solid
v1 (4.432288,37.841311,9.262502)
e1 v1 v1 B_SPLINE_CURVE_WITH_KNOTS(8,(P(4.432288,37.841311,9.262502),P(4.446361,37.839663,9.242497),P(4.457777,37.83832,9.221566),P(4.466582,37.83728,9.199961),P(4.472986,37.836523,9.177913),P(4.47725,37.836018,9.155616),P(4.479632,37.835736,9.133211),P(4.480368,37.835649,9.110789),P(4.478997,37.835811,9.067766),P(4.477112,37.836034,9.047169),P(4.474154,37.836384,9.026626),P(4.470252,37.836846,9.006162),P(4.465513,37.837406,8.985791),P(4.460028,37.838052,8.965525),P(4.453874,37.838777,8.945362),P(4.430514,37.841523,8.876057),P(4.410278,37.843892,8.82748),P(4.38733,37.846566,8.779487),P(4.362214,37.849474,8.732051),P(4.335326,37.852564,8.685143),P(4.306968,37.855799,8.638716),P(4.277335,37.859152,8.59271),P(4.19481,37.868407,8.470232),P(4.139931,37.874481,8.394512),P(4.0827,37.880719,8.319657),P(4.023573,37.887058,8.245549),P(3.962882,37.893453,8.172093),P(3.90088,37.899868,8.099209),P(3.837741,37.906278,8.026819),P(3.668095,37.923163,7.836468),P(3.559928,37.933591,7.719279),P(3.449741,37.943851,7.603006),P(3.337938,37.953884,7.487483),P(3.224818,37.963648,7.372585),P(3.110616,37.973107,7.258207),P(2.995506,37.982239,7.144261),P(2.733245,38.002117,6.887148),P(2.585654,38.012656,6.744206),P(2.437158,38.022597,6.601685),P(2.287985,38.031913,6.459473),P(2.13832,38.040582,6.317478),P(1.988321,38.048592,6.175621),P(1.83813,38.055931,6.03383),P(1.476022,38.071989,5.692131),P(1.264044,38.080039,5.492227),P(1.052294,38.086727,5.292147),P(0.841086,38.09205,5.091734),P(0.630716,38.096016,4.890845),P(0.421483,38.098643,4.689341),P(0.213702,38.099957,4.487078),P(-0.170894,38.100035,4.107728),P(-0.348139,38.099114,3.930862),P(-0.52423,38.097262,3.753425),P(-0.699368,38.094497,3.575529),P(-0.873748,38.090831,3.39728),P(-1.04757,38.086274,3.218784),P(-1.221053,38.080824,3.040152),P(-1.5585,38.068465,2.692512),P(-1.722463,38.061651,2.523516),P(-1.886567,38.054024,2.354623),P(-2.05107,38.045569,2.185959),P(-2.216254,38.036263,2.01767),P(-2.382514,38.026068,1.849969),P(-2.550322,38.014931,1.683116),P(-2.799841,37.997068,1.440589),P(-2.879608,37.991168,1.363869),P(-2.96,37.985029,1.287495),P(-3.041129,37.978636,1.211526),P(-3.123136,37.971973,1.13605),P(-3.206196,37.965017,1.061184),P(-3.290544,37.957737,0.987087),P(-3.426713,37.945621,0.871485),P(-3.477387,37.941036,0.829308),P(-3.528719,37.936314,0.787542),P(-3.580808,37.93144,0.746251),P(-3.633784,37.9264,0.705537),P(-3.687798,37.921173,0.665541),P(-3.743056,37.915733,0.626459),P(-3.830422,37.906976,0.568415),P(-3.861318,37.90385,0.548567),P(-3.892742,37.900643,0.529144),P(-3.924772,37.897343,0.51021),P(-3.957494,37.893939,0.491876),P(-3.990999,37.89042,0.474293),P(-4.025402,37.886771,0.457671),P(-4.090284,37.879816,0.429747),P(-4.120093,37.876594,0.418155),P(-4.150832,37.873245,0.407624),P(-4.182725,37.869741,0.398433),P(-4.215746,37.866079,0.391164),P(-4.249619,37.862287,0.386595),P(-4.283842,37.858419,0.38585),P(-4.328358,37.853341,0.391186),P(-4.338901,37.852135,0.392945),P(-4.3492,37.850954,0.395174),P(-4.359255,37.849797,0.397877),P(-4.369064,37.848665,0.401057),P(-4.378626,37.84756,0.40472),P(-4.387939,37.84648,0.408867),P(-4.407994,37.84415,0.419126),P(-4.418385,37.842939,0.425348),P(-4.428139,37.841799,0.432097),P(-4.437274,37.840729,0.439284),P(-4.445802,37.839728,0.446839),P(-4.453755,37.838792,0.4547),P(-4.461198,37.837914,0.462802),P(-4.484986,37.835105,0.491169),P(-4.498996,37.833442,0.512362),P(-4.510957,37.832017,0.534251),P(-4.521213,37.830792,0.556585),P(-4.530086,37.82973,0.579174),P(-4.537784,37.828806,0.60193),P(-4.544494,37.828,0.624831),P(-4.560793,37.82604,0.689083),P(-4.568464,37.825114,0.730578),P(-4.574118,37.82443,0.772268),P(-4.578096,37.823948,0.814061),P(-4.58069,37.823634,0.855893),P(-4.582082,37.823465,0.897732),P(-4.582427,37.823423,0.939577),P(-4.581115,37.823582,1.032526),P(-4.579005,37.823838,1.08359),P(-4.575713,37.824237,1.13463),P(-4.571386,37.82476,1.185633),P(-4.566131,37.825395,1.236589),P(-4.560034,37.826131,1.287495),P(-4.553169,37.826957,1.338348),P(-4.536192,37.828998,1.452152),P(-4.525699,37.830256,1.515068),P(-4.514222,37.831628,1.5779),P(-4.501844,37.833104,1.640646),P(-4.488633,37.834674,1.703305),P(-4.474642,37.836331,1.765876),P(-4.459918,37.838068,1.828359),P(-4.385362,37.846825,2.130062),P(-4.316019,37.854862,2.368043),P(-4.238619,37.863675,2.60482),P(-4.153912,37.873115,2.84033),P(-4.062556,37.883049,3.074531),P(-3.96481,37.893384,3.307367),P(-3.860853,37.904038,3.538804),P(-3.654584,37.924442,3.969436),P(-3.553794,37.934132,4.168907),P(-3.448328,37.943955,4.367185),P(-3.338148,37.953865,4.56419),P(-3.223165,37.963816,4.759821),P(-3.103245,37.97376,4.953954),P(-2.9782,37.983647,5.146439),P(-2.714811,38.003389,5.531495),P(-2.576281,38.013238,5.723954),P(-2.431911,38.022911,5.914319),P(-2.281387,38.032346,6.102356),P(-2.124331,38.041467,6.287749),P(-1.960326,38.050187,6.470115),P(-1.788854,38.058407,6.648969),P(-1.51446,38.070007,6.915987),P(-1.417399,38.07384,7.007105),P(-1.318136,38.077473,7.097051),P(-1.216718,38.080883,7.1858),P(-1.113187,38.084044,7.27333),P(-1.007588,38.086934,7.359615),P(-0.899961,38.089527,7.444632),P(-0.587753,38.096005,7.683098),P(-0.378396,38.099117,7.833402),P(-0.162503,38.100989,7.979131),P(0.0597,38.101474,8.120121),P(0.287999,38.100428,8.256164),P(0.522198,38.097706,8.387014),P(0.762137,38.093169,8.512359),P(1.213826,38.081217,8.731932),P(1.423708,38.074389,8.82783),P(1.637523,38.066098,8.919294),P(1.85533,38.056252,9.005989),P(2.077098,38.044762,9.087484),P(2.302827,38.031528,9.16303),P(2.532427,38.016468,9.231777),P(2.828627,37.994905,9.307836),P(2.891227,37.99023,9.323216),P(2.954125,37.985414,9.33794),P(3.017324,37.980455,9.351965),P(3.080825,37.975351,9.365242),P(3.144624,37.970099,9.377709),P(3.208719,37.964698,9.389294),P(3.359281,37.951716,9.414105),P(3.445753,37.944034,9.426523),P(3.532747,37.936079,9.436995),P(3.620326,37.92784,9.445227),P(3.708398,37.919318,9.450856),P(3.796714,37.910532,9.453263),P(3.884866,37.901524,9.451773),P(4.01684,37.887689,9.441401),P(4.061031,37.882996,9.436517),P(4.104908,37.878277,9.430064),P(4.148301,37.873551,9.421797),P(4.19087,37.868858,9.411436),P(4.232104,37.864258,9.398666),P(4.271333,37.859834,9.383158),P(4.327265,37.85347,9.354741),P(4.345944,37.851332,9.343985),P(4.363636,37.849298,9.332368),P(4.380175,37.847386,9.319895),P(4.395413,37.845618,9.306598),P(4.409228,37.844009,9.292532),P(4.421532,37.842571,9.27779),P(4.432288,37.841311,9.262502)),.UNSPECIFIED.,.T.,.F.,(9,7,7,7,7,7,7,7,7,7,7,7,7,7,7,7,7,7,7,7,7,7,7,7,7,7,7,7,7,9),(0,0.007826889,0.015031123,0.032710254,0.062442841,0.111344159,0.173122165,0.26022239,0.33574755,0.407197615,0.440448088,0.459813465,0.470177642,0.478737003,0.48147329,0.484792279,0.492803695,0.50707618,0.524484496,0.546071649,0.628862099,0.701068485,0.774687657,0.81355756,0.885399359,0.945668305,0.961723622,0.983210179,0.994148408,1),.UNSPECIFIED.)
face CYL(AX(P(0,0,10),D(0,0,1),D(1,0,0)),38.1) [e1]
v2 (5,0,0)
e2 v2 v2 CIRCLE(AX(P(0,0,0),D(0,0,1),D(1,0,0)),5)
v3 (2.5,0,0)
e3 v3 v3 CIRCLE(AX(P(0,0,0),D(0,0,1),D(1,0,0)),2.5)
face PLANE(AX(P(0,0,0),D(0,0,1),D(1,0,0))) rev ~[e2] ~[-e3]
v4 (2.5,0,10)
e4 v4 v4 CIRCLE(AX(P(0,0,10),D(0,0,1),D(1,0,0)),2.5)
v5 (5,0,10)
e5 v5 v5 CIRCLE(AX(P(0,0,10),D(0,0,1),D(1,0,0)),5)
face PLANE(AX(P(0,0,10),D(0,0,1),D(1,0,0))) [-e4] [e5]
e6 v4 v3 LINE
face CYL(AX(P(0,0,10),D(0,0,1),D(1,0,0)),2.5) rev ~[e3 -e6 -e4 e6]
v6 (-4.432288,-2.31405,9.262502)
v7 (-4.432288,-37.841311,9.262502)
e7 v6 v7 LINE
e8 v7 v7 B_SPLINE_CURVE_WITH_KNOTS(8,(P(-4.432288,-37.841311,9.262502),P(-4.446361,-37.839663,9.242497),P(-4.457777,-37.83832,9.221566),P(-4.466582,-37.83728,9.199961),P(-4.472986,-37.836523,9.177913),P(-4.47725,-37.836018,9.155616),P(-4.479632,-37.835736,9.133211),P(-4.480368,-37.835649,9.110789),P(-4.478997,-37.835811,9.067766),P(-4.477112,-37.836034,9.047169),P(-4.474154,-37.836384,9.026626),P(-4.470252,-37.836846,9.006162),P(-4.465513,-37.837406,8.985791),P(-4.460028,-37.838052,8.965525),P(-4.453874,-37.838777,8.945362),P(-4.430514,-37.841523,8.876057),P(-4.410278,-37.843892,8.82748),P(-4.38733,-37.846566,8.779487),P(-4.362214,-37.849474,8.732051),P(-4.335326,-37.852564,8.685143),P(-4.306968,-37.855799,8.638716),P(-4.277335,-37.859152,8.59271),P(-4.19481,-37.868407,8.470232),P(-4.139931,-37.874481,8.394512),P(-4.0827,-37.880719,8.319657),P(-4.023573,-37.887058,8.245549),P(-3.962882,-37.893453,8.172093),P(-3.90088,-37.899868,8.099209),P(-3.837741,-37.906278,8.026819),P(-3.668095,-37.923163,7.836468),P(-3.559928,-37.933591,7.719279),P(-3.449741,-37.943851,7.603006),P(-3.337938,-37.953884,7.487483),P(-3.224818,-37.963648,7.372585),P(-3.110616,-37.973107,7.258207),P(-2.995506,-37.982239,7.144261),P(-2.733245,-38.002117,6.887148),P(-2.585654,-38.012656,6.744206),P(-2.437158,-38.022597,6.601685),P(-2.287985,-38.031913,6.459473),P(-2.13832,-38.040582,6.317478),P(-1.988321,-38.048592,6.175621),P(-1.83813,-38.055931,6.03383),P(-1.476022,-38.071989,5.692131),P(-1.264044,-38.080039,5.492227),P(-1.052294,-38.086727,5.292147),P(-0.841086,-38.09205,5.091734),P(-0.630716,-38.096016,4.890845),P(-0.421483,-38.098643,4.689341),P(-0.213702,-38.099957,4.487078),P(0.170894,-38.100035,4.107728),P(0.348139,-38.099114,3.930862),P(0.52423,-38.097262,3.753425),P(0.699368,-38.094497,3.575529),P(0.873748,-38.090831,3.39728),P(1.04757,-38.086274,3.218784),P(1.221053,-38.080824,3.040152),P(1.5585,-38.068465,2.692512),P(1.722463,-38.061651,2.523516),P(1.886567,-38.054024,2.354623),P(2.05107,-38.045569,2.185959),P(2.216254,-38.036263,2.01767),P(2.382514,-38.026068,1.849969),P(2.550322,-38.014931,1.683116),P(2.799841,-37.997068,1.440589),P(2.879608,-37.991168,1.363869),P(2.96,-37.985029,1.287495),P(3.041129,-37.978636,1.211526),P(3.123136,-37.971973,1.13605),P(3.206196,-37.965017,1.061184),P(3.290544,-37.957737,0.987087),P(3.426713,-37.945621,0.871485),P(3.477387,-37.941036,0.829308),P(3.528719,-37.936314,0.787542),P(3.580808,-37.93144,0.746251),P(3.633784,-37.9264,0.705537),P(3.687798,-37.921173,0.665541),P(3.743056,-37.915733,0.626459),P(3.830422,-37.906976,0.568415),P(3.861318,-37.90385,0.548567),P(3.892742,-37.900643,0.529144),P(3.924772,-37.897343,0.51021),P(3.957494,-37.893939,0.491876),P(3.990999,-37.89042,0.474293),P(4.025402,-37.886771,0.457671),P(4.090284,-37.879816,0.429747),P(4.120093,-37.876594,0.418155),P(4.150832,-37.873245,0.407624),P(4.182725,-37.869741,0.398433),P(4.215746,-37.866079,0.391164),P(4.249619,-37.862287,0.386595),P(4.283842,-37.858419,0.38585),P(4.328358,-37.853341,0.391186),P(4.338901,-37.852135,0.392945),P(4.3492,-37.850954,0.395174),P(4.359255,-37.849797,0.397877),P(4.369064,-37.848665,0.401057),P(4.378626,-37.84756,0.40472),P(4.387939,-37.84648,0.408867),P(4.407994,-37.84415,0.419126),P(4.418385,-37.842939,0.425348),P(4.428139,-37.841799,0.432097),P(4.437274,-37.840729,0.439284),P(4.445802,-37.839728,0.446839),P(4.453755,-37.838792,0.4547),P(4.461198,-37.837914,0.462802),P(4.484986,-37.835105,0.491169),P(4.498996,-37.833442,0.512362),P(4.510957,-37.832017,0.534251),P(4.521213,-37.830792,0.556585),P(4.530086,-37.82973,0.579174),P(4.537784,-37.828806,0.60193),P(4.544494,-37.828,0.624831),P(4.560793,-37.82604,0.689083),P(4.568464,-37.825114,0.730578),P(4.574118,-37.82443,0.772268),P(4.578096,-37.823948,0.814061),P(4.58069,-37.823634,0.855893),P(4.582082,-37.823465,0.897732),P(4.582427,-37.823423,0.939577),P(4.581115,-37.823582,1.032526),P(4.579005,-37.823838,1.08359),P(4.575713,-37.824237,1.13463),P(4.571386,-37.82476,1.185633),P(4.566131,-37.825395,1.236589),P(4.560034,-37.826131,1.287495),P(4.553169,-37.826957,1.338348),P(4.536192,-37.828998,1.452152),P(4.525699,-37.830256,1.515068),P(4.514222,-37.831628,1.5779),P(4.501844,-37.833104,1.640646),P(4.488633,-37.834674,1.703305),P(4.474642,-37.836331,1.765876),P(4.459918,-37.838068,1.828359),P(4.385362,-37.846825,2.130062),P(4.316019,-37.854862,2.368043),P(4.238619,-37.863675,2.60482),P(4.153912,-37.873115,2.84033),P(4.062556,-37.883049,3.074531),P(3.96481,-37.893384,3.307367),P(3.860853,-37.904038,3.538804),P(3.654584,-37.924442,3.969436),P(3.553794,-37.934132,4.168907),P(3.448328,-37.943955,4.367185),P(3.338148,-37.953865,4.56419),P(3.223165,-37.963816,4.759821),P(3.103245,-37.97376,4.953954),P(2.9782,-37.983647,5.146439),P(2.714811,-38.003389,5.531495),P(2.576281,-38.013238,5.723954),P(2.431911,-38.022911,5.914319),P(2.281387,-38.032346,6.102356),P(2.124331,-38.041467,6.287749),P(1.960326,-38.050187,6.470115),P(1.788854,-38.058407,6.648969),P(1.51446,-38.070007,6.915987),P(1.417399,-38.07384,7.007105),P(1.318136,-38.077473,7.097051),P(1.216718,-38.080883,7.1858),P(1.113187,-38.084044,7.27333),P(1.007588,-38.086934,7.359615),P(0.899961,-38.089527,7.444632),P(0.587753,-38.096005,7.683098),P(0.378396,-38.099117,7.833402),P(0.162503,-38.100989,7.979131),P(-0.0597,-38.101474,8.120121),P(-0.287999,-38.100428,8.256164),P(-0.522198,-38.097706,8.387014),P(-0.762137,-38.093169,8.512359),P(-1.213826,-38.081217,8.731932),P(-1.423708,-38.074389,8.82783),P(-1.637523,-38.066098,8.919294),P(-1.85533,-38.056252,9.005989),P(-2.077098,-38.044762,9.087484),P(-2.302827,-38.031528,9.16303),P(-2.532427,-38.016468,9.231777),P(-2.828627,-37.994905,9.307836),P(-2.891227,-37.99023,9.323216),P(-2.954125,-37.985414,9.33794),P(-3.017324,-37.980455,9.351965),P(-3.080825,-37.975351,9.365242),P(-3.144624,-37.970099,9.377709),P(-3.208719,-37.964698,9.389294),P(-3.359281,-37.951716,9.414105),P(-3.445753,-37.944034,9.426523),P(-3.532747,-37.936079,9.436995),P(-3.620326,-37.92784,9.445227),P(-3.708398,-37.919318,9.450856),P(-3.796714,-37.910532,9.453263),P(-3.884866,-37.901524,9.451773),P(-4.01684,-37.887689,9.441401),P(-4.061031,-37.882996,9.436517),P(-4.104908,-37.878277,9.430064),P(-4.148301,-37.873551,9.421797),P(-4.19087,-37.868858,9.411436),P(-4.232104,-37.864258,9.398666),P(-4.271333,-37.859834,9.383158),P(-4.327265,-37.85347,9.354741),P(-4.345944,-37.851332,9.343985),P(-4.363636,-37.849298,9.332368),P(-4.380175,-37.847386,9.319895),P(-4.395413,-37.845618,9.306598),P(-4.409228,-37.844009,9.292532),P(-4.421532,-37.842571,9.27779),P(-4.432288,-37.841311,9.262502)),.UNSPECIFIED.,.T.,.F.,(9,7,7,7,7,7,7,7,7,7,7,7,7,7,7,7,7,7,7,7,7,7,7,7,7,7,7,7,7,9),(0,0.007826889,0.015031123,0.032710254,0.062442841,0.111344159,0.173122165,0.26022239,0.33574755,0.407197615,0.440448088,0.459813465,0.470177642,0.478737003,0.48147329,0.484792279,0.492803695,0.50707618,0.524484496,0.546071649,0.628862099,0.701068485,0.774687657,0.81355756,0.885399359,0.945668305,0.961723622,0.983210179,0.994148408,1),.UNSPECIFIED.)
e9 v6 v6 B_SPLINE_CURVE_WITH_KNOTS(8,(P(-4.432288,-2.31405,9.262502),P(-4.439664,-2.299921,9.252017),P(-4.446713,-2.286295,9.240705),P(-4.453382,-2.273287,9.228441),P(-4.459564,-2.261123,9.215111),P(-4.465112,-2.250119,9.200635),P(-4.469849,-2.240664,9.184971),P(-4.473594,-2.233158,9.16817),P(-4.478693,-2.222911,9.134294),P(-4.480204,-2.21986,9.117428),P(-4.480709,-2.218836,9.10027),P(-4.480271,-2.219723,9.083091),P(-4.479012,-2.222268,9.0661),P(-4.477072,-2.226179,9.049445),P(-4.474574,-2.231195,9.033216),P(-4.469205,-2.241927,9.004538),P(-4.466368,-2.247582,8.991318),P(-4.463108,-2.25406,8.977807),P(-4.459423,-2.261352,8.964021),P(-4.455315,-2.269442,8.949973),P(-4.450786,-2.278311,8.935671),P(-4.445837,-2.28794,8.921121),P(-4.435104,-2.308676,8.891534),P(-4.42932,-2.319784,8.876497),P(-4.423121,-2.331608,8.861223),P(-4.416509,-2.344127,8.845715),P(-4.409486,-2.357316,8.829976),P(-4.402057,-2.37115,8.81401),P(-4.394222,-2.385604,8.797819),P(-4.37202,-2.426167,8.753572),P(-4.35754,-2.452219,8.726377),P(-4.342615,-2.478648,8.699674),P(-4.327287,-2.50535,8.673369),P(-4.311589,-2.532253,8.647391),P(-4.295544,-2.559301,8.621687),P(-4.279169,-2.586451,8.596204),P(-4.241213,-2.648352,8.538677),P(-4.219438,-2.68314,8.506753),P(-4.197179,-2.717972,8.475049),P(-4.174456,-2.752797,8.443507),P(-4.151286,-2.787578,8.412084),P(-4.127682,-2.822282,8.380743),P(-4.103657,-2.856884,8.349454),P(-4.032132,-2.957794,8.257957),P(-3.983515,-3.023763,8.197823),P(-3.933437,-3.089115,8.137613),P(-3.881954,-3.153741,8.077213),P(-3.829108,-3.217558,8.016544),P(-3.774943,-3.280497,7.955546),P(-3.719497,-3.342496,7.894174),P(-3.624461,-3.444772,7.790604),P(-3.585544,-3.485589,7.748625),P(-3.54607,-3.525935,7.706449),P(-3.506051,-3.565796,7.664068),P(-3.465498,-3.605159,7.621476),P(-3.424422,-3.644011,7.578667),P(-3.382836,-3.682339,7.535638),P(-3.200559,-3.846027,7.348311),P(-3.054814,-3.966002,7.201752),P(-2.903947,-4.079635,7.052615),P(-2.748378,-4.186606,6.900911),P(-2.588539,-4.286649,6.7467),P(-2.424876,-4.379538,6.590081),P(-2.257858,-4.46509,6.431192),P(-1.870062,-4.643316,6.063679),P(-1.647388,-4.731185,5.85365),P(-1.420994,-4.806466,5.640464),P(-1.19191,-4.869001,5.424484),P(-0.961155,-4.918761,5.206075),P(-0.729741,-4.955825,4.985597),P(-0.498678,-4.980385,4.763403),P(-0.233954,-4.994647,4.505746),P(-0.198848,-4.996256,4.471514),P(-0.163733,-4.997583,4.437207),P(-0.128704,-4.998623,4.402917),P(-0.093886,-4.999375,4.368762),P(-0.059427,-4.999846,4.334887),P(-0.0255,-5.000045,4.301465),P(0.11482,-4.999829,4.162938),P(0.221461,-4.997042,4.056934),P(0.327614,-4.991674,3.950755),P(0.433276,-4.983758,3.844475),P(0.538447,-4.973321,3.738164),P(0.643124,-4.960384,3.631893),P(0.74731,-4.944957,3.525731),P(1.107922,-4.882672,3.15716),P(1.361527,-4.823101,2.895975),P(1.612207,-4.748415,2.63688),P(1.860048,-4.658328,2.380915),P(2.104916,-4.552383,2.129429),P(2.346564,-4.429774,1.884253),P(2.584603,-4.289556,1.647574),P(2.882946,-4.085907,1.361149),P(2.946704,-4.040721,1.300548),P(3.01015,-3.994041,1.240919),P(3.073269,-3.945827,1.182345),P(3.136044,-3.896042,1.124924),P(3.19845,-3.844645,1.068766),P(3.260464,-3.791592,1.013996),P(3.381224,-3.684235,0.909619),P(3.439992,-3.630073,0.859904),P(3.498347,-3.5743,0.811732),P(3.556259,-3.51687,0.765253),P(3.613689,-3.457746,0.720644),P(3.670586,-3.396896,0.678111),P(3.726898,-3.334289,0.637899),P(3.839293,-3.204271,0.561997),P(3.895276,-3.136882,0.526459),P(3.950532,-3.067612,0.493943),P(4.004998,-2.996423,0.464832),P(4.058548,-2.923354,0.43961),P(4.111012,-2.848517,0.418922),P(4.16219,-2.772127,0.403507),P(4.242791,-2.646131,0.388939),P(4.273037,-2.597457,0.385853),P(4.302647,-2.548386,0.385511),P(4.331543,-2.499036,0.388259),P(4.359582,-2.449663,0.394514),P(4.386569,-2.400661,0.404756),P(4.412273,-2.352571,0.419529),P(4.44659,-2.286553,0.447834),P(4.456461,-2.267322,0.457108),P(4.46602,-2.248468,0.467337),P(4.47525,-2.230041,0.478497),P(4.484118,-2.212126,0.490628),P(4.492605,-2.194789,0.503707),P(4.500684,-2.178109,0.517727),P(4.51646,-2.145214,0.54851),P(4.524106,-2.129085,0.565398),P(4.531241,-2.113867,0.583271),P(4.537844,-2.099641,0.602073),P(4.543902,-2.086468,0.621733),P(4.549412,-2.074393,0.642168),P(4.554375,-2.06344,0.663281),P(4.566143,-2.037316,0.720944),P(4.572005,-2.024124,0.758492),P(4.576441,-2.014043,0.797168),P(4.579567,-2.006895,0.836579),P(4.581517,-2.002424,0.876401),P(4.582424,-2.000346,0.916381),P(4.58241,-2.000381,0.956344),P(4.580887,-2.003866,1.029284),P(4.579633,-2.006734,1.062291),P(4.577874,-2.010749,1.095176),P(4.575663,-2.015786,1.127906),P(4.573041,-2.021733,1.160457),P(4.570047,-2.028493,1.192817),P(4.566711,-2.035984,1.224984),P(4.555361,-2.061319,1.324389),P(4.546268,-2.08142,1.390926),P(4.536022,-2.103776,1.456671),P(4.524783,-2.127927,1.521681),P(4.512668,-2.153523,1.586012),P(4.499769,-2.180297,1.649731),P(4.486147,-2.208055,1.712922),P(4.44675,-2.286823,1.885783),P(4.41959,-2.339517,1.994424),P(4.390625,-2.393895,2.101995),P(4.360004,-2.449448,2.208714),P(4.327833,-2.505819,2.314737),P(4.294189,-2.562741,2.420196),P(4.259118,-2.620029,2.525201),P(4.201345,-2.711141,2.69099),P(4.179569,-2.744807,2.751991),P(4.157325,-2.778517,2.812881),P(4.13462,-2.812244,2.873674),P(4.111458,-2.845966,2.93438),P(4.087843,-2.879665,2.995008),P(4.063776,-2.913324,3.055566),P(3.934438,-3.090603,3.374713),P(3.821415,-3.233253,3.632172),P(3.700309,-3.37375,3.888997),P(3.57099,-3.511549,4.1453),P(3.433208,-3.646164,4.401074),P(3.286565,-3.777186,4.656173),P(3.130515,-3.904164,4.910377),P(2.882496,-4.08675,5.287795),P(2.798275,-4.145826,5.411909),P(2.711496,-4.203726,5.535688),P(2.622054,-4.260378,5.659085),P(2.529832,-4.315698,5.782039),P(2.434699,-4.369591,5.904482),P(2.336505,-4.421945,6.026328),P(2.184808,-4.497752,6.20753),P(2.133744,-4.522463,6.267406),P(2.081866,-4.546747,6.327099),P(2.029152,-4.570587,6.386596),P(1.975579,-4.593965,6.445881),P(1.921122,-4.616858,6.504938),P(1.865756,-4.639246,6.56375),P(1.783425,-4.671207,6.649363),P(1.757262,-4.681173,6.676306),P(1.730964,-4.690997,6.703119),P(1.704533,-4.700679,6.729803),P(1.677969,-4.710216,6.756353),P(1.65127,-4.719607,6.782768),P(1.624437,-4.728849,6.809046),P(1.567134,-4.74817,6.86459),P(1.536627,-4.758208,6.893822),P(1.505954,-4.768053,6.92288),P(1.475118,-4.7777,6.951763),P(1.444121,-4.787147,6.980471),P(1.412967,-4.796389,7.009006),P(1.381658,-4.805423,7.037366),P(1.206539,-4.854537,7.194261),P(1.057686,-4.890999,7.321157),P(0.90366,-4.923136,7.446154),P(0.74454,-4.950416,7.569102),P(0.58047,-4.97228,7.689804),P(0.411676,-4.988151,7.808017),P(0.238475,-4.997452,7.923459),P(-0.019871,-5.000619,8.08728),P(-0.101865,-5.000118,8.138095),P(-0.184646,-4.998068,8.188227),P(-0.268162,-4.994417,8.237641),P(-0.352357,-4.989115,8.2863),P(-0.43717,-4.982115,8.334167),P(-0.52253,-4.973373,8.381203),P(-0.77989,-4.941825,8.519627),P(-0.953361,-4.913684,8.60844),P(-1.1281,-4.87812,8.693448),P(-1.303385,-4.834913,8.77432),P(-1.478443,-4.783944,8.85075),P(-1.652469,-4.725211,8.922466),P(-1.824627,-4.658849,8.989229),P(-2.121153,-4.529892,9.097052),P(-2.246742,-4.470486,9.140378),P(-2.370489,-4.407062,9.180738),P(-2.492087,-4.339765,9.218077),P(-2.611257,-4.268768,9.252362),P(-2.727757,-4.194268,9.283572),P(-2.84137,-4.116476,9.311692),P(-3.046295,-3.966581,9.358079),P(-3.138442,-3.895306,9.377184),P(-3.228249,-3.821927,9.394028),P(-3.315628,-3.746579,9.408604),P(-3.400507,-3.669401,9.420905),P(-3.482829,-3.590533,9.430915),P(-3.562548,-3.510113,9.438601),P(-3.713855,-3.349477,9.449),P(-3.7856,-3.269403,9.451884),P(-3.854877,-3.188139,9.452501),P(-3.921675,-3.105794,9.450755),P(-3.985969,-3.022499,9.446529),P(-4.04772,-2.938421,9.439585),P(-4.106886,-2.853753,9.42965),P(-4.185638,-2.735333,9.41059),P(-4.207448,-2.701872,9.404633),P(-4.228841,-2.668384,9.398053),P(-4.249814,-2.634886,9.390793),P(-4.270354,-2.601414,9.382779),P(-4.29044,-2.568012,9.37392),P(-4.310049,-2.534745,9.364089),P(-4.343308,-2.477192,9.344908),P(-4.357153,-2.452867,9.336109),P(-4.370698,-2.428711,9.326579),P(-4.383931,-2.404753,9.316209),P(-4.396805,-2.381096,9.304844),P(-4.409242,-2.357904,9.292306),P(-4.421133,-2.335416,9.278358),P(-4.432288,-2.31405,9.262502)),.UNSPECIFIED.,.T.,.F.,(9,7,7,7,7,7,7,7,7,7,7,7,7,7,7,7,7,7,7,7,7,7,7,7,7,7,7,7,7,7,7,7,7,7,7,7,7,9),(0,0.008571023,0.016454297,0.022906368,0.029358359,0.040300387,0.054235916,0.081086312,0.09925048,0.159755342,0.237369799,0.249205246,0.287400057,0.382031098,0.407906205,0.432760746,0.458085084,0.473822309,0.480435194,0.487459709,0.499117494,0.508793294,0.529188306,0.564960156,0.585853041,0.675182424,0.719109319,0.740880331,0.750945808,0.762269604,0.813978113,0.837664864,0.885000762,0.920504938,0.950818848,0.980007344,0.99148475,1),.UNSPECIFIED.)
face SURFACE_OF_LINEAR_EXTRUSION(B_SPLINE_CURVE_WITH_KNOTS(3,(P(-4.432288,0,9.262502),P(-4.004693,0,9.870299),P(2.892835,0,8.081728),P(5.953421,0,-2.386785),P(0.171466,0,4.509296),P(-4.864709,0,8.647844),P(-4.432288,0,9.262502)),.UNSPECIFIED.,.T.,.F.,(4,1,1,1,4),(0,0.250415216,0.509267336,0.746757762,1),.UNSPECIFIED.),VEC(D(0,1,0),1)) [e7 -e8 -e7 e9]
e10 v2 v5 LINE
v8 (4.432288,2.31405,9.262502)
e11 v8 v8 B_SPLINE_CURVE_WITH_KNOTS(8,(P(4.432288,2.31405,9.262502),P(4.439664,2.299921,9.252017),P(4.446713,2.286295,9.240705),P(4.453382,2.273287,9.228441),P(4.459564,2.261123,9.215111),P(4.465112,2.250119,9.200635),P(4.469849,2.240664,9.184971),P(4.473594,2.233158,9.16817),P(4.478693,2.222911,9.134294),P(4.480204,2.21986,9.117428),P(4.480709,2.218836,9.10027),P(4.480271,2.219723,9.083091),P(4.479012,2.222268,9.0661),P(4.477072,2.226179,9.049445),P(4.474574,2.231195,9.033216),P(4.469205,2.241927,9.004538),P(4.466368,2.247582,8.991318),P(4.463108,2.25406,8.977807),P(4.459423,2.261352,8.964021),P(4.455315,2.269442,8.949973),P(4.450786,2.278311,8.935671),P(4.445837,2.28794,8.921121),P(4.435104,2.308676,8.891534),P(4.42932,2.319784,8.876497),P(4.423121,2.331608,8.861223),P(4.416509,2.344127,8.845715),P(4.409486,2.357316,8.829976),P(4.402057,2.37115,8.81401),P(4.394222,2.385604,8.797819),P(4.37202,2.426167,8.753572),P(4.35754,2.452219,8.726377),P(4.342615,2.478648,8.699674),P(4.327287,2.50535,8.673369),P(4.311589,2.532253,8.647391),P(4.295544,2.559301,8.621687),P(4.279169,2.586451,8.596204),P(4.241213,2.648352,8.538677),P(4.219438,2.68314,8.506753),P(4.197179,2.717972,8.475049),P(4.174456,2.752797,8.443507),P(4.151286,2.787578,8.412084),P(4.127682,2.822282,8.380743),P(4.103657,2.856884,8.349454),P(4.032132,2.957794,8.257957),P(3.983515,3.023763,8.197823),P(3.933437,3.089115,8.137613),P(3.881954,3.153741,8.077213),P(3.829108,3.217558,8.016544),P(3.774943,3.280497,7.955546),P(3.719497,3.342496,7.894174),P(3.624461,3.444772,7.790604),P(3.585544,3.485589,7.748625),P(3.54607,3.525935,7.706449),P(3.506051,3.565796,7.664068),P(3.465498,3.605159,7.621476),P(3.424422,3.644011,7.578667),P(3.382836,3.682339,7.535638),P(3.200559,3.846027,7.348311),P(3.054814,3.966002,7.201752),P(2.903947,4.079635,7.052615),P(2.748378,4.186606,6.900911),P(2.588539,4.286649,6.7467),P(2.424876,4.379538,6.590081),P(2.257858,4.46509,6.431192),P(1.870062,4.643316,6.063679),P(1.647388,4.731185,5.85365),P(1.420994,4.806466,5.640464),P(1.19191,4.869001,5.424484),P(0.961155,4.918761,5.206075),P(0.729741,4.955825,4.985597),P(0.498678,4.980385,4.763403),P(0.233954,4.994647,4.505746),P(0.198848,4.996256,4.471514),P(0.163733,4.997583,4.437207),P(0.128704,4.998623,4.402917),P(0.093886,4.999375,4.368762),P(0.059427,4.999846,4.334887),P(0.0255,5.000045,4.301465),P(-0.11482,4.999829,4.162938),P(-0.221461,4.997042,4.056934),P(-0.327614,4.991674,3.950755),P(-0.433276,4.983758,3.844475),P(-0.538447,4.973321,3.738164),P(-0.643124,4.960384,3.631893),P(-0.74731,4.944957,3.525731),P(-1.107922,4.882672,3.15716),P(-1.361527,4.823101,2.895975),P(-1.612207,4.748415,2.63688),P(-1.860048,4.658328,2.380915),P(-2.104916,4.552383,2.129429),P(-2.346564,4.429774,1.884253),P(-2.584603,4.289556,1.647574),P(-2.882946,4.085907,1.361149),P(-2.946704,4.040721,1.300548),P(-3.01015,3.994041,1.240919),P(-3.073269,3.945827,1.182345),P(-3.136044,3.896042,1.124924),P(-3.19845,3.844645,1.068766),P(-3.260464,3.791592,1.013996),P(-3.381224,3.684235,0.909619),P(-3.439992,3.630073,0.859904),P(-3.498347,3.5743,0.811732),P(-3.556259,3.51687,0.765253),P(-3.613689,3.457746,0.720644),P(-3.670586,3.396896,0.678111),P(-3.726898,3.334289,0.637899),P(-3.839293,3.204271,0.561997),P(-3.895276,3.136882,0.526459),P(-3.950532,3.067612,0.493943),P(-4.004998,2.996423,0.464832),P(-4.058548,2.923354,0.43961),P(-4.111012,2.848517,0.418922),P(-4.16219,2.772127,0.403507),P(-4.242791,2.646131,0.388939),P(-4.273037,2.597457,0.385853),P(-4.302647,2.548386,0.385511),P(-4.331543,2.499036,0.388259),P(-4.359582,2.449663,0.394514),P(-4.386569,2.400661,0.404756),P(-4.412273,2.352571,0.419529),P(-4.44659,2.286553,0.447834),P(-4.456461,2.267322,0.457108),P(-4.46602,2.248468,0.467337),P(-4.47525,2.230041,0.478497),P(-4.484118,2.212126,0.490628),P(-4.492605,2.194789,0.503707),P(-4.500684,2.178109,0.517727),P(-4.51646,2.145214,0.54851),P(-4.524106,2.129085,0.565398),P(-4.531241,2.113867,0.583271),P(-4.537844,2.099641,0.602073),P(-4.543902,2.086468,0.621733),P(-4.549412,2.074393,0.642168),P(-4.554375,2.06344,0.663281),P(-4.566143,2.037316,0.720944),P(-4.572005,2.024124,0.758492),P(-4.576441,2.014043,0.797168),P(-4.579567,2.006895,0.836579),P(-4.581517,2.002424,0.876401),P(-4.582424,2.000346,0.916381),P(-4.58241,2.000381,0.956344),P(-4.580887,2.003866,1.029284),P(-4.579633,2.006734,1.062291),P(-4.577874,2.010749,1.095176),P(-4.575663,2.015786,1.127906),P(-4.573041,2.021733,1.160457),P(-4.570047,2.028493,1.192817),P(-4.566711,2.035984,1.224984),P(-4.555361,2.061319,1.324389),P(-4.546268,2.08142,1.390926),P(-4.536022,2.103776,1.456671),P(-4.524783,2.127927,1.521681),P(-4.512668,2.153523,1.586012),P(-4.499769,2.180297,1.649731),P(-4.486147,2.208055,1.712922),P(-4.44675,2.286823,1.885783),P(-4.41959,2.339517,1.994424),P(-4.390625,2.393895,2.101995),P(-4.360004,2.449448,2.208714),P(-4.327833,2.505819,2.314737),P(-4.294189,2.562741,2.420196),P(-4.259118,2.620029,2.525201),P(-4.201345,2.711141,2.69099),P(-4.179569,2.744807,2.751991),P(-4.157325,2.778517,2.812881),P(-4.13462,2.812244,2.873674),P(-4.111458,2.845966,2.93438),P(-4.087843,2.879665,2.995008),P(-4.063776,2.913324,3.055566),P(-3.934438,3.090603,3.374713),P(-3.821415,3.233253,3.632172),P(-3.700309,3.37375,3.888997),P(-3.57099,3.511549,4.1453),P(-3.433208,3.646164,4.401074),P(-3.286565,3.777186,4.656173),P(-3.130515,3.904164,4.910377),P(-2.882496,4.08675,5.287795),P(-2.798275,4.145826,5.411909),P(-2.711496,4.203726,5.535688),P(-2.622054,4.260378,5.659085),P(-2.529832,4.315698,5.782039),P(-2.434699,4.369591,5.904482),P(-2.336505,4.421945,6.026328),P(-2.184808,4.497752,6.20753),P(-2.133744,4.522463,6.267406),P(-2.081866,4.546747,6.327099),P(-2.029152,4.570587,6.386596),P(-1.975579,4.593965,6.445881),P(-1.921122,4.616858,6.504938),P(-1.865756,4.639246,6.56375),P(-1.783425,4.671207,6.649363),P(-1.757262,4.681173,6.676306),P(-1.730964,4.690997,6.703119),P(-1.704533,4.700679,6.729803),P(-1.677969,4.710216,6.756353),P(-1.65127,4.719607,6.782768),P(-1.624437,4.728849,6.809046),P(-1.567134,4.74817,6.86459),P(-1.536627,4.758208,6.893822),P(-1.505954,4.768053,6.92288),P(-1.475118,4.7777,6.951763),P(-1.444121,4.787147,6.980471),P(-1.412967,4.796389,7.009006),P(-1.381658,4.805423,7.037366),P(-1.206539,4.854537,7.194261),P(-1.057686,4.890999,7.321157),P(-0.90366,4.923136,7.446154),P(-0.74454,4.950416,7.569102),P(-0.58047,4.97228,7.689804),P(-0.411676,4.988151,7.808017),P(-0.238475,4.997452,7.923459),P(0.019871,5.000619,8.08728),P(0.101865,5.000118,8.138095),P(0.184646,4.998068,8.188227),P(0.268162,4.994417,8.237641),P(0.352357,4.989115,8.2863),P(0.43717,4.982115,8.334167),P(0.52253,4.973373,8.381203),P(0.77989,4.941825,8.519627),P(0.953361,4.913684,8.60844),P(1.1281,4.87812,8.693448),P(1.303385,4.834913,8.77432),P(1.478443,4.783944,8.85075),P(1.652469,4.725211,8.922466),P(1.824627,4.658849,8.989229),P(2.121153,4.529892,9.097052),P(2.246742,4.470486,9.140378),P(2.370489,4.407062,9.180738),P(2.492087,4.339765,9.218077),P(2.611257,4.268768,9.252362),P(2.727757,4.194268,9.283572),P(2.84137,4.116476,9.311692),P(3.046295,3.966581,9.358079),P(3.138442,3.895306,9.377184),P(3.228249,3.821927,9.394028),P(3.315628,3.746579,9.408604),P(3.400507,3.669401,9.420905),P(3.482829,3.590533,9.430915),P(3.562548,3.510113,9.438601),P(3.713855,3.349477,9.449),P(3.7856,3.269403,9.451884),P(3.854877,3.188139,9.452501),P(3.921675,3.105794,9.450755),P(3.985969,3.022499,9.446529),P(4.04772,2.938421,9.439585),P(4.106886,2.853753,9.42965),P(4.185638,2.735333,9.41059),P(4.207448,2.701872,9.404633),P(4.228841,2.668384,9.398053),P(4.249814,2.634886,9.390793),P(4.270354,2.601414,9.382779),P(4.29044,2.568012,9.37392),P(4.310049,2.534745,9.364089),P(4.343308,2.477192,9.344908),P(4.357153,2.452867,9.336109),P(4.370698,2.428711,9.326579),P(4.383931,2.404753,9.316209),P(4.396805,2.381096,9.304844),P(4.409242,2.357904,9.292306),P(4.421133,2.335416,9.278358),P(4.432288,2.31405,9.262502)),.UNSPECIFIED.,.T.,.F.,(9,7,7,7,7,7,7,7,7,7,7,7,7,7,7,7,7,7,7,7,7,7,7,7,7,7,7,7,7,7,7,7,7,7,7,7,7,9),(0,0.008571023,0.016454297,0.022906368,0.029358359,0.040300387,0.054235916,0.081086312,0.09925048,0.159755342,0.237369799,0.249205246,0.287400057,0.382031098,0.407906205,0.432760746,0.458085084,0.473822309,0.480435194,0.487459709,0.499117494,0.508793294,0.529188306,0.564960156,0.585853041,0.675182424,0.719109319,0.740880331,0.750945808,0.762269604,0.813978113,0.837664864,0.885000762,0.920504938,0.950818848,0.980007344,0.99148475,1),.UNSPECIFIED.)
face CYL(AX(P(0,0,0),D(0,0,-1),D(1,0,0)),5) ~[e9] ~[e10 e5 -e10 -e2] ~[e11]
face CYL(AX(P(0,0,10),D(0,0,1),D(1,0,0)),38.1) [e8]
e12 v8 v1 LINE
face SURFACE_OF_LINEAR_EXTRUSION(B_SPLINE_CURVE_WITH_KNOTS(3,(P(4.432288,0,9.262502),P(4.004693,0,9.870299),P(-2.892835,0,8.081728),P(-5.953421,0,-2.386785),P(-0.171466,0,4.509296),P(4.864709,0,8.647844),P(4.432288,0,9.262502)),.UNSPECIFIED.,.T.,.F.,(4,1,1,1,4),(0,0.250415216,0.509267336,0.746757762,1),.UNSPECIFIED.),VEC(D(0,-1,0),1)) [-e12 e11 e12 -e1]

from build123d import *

# Parameters (mm, degrees)
F0_R     = 5
F1_DEPTH = 10
F3_DEPTH = 100
F4_COUNT = 2
F5_R     = 106.3320700354
F5_R_2   = 38.1
F5_R_3   = 2.5
F6_DEPTH = 25


with BuildPart() as f1:
    # F0 (on Top) → F1 (new body)
    with BuildSketch(Plane.XY):
        Circle(F0_R)
    extrude(amount=F1_DEPTH)



with BuildPart() as f3:
    # F2 (on Front) → F3 (new body)
    with BuildSketch(Plane.XZ):
        with BuildLine():
            add(Edge.make_bspline(
                [(-4.4322875328, 9.2625021935), (-4.0046929693, 9.8702987499), (2.892835081, 8.0817281159), (5.9534211923, -2.3867853005), (0.1714658404, 4.5092960139), (-4.864709357, 8.6478440147), (-4.4322875328, 9.2625021935)],
                knots=[0, 0, 0, 0, 0.2504152158, 0.5092673356, 0.7467577616, 1, 1, 1, 1], degree=3))
        make_face()
    extrude(amount=F3_DEPTH)


with BuildPart() as f1_1:
    add(f1.part)

    add(f3.part)  # F4 merges F3
    # F4: F3 ×2 about axis
    f4_axis = Axis((0, 0, 10), (0, 0, 1))
    for i in range(1, F4_COUNT):
        add(f3.part.rotate(f4_axis, i * 360 / F4_COUNT))

    # F5 (on face) → F6 (cut)
    with BuildSketch(Plane.XY.offset(10)):
        Circle(F5_R)
        Circle(F5_R_2, mode=Mode.SUBTRACT)
        Circle(F5_R_3)
    extrude(amount=-F6_DEPTH, mode=Mode.SUBTRACT)


solid = f1_1.part
